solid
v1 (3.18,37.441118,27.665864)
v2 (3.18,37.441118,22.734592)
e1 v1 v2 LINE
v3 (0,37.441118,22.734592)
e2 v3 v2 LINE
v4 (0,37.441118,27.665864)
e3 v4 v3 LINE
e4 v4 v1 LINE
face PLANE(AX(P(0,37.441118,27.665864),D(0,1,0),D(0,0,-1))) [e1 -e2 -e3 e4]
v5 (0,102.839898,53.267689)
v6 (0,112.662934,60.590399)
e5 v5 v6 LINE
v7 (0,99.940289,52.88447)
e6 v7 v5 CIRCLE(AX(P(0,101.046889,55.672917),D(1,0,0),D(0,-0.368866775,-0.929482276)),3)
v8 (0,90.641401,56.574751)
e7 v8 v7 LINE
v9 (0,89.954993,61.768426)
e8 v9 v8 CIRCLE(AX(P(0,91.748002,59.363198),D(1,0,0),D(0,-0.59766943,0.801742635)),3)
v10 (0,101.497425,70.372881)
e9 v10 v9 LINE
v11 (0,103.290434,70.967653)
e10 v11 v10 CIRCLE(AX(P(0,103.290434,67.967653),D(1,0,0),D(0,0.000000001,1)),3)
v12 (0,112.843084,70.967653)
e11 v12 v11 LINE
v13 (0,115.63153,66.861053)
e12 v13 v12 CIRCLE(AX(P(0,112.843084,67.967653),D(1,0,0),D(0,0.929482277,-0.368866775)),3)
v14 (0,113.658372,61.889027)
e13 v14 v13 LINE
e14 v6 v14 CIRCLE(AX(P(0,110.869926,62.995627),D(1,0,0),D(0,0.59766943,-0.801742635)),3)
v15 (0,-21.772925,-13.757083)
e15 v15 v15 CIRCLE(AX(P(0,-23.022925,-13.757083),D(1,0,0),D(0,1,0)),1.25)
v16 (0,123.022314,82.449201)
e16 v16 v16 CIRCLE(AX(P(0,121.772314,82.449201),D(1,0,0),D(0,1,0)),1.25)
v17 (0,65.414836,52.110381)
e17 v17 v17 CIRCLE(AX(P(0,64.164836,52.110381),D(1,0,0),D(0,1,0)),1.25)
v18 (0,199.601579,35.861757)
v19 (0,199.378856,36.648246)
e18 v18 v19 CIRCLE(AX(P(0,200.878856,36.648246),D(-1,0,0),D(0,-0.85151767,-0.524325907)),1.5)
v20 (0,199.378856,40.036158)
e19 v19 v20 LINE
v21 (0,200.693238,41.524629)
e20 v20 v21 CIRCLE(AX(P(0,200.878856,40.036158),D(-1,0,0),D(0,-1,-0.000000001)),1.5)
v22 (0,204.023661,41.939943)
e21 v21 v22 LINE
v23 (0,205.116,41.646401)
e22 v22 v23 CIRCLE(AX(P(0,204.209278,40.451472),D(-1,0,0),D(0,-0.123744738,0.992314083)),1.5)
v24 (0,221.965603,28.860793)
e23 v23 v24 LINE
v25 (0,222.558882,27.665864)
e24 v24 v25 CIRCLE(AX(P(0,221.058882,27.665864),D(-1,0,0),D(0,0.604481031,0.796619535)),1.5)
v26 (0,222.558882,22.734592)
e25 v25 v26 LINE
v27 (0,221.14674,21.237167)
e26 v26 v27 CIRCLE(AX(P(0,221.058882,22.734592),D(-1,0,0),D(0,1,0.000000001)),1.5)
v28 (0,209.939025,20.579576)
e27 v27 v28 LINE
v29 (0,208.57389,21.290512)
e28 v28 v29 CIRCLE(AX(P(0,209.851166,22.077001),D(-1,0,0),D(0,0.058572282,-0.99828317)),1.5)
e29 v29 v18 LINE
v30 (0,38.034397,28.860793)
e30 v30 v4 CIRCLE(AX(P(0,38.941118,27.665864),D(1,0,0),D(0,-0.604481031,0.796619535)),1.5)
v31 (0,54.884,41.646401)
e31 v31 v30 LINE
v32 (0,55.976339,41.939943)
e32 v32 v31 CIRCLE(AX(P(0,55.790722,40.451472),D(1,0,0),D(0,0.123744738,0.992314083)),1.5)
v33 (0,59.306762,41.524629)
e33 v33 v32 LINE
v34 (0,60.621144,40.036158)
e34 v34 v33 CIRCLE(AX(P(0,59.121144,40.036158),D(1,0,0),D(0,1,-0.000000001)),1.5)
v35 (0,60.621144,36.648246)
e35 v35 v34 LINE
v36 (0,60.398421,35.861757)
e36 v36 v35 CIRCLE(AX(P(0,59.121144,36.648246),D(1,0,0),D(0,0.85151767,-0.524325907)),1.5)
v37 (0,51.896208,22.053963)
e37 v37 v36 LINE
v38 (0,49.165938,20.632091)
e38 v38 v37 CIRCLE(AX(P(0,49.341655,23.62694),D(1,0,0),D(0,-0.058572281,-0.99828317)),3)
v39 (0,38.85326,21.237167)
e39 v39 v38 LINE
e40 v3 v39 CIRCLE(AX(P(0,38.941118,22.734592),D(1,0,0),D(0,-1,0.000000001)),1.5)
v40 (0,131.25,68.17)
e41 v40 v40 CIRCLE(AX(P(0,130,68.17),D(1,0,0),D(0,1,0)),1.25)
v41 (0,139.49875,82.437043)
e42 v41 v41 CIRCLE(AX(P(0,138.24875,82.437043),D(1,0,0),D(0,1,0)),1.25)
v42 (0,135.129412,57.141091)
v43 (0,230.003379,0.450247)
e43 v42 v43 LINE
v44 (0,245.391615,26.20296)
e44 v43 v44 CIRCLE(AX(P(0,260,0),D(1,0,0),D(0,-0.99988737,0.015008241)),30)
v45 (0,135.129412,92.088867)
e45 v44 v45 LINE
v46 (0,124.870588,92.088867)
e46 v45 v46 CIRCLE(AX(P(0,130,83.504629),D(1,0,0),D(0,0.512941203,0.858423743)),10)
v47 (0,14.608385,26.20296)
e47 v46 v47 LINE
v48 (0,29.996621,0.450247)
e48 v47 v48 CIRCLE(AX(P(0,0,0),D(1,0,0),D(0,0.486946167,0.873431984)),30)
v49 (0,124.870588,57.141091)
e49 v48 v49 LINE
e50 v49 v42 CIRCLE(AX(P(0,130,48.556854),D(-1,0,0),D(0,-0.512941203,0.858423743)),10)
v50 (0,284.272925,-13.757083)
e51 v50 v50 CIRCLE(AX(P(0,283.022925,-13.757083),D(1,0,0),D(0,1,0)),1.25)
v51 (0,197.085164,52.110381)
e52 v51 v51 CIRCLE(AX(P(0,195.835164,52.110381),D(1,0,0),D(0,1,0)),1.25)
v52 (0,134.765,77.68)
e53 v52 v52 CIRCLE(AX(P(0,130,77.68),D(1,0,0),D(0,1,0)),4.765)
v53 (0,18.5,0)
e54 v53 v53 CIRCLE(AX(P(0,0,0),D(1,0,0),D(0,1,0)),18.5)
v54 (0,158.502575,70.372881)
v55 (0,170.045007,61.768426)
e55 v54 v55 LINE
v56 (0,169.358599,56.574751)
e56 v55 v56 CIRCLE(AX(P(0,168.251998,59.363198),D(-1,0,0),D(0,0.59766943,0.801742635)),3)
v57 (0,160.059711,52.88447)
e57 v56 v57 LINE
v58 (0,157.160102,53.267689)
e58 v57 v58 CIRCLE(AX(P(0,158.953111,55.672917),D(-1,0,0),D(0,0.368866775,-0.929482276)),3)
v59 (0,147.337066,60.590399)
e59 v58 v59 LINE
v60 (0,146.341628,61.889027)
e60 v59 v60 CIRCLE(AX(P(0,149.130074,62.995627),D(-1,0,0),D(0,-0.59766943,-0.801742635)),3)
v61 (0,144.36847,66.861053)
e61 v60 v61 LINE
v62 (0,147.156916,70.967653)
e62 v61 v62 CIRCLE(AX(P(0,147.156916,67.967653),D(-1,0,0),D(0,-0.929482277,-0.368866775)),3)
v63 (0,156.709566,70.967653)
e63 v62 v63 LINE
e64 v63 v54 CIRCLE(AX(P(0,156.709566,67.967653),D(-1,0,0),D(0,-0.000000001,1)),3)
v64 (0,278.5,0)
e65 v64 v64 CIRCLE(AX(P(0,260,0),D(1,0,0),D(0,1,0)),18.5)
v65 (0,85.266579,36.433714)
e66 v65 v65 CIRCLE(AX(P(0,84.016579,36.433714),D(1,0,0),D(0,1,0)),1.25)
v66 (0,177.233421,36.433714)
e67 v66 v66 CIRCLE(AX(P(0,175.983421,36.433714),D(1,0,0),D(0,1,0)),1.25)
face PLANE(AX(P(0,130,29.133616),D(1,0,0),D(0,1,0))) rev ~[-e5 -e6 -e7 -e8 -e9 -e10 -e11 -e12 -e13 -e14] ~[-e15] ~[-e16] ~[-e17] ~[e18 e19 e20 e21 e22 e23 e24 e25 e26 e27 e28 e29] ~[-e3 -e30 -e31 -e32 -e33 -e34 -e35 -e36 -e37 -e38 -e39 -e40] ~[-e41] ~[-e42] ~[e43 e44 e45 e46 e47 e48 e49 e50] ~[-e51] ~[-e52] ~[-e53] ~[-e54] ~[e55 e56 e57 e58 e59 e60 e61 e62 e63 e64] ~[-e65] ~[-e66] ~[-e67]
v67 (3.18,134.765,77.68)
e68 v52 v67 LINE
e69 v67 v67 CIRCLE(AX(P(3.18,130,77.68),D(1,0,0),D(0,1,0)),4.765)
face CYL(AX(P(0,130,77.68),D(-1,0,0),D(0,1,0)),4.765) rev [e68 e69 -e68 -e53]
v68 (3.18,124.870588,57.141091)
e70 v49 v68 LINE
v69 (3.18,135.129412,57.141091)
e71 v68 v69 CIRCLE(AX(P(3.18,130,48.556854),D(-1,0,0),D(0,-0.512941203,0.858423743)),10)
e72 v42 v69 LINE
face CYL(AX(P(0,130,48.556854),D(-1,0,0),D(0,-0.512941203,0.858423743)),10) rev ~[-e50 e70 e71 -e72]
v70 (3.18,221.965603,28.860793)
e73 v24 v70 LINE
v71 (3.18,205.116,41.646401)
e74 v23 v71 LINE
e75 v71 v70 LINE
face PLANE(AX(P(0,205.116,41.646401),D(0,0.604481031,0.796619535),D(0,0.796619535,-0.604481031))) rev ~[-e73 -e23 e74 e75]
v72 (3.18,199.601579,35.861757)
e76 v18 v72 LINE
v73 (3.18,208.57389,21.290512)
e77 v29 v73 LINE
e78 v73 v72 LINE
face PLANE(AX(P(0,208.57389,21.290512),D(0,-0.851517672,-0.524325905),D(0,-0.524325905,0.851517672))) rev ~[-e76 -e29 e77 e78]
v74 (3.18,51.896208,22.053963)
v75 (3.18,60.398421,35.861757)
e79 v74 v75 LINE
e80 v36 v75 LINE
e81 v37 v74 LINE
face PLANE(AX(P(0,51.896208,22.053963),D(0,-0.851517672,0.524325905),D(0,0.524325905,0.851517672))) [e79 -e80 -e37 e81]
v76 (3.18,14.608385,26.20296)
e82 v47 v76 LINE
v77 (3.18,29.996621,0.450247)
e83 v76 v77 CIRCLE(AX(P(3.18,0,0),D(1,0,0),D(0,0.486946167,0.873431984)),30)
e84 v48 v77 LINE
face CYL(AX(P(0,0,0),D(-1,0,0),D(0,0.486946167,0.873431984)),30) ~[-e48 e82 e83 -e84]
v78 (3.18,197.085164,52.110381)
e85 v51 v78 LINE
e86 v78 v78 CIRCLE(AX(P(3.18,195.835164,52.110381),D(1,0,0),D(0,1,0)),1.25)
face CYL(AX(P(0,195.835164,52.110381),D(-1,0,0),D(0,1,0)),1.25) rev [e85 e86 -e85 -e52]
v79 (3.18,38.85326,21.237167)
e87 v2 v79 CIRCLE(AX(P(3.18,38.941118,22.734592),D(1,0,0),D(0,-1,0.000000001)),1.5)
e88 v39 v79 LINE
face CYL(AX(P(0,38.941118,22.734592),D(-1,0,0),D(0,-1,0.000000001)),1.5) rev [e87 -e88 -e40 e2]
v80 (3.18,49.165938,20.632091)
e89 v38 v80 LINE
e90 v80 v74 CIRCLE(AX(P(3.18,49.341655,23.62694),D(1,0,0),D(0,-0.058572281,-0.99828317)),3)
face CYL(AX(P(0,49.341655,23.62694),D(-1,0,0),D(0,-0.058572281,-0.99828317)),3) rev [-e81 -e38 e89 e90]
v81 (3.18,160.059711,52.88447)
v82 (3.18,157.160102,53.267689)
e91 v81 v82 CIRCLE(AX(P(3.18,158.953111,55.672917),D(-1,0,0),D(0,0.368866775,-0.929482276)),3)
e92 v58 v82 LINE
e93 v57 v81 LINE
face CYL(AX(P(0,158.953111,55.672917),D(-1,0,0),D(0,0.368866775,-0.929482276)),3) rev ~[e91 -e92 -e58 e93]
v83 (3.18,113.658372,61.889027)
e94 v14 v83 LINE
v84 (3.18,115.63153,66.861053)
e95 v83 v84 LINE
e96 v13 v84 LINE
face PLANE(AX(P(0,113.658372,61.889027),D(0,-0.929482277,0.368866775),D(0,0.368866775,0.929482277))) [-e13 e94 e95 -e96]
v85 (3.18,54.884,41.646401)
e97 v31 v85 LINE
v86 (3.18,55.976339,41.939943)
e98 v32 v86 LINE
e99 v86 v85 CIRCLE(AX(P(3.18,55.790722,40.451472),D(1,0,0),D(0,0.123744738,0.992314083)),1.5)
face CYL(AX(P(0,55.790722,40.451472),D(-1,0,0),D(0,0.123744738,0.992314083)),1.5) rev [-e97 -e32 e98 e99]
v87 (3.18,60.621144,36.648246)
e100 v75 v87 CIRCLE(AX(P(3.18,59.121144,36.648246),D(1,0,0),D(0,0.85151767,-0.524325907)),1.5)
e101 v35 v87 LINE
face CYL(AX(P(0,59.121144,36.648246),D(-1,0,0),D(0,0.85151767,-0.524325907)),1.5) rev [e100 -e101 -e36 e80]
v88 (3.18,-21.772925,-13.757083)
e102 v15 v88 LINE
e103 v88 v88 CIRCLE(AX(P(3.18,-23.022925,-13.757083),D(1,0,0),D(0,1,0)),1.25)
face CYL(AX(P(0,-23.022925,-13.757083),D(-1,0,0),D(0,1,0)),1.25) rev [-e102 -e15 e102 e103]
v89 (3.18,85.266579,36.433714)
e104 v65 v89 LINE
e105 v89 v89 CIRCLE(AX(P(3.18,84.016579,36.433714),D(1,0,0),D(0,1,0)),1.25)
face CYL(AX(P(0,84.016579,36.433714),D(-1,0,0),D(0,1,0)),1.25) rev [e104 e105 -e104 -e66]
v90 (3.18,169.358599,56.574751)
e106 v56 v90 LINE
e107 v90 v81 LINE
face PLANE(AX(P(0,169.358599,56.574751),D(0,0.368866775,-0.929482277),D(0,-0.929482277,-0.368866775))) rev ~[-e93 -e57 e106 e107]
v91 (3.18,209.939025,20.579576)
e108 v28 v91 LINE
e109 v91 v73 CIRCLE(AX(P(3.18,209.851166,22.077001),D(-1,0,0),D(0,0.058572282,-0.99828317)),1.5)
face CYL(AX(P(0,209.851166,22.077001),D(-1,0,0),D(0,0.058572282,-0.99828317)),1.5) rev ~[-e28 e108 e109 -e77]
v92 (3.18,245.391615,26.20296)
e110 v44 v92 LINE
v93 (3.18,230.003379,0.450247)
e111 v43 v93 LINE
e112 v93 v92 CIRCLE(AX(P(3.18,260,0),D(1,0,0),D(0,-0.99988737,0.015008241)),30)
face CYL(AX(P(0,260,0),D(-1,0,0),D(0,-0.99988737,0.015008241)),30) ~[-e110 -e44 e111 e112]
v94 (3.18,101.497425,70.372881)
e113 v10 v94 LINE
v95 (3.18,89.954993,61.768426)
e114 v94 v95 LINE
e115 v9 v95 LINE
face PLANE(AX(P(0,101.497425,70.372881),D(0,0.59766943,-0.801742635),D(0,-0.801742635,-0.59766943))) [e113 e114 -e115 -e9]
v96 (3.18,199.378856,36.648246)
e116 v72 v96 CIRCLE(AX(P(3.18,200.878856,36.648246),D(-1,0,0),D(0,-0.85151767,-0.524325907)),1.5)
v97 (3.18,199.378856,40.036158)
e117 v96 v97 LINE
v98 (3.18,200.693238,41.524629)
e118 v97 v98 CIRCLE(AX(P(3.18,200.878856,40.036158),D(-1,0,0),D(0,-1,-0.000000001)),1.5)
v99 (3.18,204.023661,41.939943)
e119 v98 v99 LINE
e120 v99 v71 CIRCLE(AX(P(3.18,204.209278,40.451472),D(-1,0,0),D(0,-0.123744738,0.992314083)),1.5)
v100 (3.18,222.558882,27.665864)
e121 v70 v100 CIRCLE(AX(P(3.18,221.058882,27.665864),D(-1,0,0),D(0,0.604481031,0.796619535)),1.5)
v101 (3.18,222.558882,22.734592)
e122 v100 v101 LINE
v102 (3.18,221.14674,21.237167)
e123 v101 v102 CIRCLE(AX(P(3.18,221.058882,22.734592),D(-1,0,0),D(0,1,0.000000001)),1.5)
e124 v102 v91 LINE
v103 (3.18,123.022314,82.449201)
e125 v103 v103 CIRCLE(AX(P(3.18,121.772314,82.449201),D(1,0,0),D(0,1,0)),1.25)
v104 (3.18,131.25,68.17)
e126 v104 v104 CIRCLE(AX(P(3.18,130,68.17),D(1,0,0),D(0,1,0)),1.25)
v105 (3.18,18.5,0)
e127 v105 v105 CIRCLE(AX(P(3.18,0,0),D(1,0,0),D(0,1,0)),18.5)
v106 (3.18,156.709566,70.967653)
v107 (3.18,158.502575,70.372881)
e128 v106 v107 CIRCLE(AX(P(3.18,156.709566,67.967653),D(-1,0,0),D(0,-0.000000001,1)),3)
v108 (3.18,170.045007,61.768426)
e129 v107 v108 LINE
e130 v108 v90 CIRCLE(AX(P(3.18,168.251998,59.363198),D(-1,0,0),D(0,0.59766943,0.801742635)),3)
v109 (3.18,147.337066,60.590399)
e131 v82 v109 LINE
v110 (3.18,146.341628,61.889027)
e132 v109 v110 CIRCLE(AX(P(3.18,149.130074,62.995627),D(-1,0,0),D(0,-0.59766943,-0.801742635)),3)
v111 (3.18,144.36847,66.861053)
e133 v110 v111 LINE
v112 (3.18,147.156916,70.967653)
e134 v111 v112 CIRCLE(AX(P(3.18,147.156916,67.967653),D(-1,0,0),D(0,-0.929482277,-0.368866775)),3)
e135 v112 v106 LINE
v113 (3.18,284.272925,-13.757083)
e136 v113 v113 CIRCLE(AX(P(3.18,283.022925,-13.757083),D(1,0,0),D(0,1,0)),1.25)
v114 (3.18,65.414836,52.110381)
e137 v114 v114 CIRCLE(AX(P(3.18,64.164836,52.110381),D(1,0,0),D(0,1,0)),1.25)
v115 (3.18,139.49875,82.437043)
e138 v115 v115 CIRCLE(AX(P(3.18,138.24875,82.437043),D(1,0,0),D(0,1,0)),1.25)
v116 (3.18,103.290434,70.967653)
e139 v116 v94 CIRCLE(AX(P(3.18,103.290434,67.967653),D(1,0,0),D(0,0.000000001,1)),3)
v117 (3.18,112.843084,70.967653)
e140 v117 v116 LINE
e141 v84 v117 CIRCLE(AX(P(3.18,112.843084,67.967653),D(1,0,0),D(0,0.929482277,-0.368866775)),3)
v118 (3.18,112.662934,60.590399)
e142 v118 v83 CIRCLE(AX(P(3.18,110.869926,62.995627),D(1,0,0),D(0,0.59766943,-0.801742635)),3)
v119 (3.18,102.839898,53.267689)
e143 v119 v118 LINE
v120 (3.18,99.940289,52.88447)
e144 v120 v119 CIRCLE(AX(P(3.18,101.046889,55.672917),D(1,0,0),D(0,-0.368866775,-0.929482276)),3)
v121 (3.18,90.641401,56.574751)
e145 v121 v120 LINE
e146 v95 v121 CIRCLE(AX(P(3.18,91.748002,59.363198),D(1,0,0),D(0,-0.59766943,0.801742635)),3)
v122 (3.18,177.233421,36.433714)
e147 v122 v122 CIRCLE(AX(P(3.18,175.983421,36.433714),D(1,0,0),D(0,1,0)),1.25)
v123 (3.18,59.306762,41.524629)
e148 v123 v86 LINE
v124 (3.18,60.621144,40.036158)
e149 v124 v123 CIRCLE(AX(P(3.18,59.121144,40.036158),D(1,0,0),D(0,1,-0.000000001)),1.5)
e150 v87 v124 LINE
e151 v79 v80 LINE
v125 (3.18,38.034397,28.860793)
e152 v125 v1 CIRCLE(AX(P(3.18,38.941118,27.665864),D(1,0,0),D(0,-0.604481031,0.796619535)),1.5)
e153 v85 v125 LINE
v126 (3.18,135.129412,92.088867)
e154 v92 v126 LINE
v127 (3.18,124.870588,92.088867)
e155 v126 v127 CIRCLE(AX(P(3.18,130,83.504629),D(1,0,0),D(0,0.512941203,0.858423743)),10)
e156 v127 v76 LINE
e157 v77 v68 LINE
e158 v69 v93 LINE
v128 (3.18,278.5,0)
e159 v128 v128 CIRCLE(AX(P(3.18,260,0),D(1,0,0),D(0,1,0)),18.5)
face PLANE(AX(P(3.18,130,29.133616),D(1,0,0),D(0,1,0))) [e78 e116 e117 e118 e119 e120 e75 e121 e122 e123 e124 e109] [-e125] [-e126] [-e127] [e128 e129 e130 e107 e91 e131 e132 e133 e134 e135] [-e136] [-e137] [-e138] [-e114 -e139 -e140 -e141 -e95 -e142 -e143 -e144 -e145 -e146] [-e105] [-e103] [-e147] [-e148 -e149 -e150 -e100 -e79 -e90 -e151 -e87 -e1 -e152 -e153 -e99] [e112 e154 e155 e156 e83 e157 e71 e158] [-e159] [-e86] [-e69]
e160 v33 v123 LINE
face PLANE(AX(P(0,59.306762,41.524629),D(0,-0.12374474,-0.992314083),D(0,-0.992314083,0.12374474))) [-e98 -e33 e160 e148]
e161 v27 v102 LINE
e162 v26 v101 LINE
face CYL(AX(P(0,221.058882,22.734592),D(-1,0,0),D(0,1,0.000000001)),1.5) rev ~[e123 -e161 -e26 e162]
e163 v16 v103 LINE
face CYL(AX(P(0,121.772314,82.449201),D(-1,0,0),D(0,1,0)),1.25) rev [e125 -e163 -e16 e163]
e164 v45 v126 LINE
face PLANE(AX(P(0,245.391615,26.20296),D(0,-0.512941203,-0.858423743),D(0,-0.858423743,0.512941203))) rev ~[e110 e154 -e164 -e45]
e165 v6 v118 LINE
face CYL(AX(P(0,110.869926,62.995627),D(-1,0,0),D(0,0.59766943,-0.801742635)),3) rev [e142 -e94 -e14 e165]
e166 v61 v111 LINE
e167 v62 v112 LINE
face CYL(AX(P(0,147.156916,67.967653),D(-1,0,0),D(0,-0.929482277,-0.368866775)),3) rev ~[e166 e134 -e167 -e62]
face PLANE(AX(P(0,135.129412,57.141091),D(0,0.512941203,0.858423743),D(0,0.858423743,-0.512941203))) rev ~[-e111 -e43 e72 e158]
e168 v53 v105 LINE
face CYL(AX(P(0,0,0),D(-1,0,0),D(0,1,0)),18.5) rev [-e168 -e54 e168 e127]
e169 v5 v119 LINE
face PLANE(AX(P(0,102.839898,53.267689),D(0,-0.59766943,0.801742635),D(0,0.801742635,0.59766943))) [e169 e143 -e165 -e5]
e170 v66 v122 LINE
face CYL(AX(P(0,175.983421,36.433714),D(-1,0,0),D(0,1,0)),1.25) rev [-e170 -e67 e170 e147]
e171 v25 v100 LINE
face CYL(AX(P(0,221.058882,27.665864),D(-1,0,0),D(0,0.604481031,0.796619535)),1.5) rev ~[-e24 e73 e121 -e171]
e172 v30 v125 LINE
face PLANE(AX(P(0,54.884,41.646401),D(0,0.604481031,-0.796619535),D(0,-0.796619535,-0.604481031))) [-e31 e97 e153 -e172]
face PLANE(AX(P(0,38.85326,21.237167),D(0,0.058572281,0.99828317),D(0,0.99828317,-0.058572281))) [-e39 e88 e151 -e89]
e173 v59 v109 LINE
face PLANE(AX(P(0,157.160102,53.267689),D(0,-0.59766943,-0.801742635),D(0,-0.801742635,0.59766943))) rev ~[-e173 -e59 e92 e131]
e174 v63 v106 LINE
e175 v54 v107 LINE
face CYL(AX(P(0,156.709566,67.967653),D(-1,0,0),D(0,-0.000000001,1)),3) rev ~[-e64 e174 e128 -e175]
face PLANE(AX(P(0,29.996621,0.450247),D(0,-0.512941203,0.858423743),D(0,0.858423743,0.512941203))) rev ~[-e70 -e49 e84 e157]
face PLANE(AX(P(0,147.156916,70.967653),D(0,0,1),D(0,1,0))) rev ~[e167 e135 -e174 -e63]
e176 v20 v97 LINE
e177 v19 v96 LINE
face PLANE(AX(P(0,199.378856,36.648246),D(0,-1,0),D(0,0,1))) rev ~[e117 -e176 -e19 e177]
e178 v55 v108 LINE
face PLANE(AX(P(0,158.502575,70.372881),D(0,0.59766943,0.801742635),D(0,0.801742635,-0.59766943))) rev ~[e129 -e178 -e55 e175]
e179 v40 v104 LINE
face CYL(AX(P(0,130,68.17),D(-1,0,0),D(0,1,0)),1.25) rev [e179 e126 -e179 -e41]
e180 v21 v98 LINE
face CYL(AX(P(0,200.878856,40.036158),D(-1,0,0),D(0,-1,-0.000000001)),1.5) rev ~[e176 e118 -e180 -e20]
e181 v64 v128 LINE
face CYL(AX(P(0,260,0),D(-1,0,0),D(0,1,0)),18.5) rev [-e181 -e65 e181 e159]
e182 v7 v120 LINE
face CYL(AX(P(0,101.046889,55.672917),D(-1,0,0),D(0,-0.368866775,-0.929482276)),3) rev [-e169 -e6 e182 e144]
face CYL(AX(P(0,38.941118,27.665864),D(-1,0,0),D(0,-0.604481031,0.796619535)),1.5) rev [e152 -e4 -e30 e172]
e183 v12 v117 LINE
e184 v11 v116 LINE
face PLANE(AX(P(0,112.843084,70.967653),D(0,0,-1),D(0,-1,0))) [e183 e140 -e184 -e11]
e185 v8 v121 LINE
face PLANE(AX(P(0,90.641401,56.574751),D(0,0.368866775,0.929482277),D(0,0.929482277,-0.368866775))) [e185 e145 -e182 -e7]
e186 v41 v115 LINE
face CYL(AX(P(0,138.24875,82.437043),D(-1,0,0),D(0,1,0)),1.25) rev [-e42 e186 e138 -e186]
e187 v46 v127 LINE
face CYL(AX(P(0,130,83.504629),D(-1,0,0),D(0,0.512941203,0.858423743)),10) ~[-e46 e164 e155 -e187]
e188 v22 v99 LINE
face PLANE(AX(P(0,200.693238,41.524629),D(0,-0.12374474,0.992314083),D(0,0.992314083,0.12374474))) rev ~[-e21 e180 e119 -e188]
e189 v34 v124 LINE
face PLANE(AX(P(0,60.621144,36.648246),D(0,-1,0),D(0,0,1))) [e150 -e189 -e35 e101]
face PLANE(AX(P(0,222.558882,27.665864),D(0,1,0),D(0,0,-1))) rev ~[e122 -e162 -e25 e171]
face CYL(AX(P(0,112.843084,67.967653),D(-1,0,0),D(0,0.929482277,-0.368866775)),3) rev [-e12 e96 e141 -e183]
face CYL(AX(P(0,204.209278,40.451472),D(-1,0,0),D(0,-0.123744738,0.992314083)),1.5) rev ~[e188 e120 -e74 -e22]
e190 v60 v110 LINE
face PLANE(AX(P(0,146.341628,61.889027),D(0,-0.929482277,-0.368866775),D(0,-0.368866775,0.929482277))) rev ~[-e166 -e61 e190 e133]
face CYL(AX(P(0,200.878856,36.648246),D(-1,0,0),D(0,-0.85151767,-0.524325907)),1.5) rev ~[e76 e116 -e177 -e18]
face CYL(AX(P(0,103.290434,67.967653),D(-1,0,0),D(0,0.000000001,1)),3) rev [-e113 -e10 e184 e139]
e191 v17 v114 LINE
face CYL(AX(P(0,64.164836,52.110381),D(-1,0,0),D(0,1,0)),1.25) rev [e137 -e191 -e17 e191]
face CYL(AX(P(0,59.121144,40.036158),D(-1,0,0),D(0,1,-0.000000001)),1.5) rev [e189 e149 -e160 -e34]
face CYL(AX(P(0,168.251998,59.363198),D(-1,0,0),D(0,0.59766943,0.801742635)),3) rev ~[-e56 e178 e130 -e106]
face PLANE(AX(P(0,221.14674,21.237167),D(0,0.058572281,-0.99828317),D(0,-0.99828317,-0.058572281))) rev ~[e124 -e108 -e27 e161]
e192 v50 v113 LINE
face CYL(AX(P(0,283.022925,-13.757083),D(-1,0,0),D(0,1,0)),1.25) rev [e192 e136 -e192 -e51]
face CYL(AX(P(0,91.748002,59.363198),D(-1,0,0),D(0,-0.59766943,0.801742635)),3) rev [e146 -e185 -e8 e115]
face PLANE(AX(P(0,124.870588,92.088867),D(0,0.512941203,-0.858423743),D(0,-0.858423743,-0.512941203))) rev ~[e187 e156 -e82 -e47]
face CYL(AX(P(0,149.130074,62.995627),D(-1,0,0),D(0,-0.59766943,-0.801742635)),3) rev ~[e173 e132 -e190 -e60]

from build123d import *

# Parameters (mm, degrees)
EXTRUDE_BASE_DEPTH         = 3.18
SKETCH4_R                  = 18.5
CUT_MOTOR_HOLES_DEPTH      = 3.18
SKETCH6_R                  = 1.25
SKETCH6_R_2                = 4.765
SUPPORT_HOLES_DEPTH        = 3.18
CUT_LIGHTENING_HOLES_DEPTH = 3.18


with BuildPart() as part:
    # bogie base → extrude-base (new body)
    with BuildSketch(Plane.YZ):
        with BuildLine():
            Line((124.870587973, 92.088866631), (14.608385018, 26.202959511))
            ThreePointArc((14.608385018, 26.202959511), (-25.75271229, -15.388236082), (29.9966211, 0.450247222))
            Line((29.9966211, 0.450247222), (124.870587973, 57.141091426))
            ThreePointArc((124.870587973, 57.141091426), (130, 58.556853997), (135.129412027, 57.141091426))
            Line((135.129412027, 57.141091426), (230.0033789, 0.450247222))
            ThreePointArc((230.0033789, 0.450247222), (285.75271229, -15.388236082), (245.391614982, 26.202959511))
            Line((245.391614982, 26.202959511), (135.129412027, 92.088866631))
            ThreePointArc((135.129412027, 92.088866631), (130, 93.504629201), (124.870587973, 92.088866631))
        make_face()
    extrude(amount=EXTRUDE_BASE_DEPTH)

    # Sketch4 → Cut-motor holes (cut)
    with BuildSketch(Plane.YZ):
        with Locations((260, 0)):
            Circle(SKETCH4_R)
        Circle(SKETCH4_R)
    extrude(amount=CUT_MOTOR_HOLES_DEPTH, mode=Mode.SUBTRACT)

    # Sketch6 → support holes (cut)
    with BuildSketch(Plane.YZ):
        with Locations((64.164835578, 52.110380567)):
            Circle(SKETCH6_R)
        with Locations((84.016579298, 36.433714107)):
            Circle(SKETCH6_R)
        with Locations((130, 77.68)):
            Circle(SKETCH6_R_2)
        with Locations((130, 68.17)):
            Circle(SKETCH6_R)
        with Locations((121.77231361, 82.449200841)):
            Circle(SKETCH6_R)
        with Locations((138.248750332, 82.43704307)):
            Circle(SKETCH6_R)
        with Locations((175.983420702, 36.433714107)):
            Circle(SKETCH6_R)
        with Locations((195.835164422, 52.110380567)):
            Circle(SKETCH6_R)
        with Locations((-23.022924787, -13.757083057)):
            Circle(SKETCH6_R)
        with Locations((283.022924787, -13.757083057)):
            Circle(SKETCH6_R)
    extrude(amount=SUPPORT_HOLES_DEPTH, mode=Mode.SUBTRACT)

    # Sketch7 → Cut-lightening holes (cut)
    with BuildSketch(Plane.YZ):
        with BuildLine():
            Line((54.884000108, 41.646401467), (38.03439682, 28.860792879))
            ThreePointArc((38.03439682, 28.860792879), (37.597600164, 28.332915929), (37.441118366, 27.665863577))
            Line((37.441118366, 27.665863577), (37.441118366, 22.734591544))
            ThreePointArc((37.441118366, 22.734591544), (37.849837551, 21.705462697), (38.853259944, 21.237166789))
            Line((38.853259944, 21.237166789), (49.165938422, 20.63209087))
            ThreePointArc((49.165938422, 20.63209087), (50.727348318, 20.966140733), (51.896208282, 22.053962665))
            Line((51.896208282, 22.053962665), (60.398420976, 35.861757183))
            ThreePointArc((60.398420976, 35.861757183), (60.564389902, 36.239537563), (60.621144468, 36.64824604))
            Line((60.621144468, 36.64824604), (60.621144468, 40.036157787))
            ThreePointArc((60.621144468, 40.036157787), (60.245516663, 41.02902594), (59.306761578, 41.524628912))
            Line((59.306761578, 41.524628912), (55.976338764, 41.939943289))
            ThreePointArc((55.976338764, 41.939943289), (55.401440776, 41.900078528), (54.884000108, 41.646401467))
        make_face()
        with BuildLine():
            Line((200.693238422, 41.524628912), (204.023661236, 41.939943289))
            ThreePointArc((204.023661236, 41.939943289), (204.598559224, 41.900078528), (205.115999892, 41.646401467))
            Line((205.115999892, 41.646401467), (221.96560318, 28.860792879))
            ThreePointArc((221.96560318, 28.860792879), (222.402399836, 28.332915929), (222.558881634, 27.665863577))
            Line((222.558881634, 27.665863577), (222.558881634, 22.734591544))
            ThreePointArc((222.558881634, 22.734591544), (222.150162449, 21.705462697), (221.146740056, 21.237166789))
            Line((221.146740056, 21.237166789), (209.939024731, 20.579576362))
            ThreePointArc((209.939024731, 20.579576362), (209.158319783, 20.746601293), (208.573889801, 21.290512259))
            Line((208.573889801, 21.290512259), (199.601579024, 35.861757183))
            ThreePointArc((199.601579024, 35.861757183), (199.435610098, 36.239537563), (199.378855532, 36.64824604))
            Line((199.378855532, 36.64824604), (199.378855532, 40.036157787))
            ThreePointArc((199.378855532, 40.036157787), (199.754483337, 41.02902594), (200.693238422, 41.524628912))
        make_face()
        with BuildLine():
            Line((112.843083605, 70.967653341), (103.290433505, 70.967653341))
            ThreePointArc((103.290433505, 70.967653341), (102.345892271, 70.815080576), (101.497425215, 70.372881245))
            Line((101.497425215, 70.372881245), (89.954993447, 61.768426002))
            ThreePointArc((89.954993447, 61.768426002), (88.773863738, 58.970129198), (90.641401413, 56.574751268))
            Line((90.641401413, 56.574751268), (99.94028895, 52.884470408))
            ThreePointArc((99.94028895, 52.884470408), (101.439958174, 52.698779238), (102.839897564, 53.267689334))
            Line((102.839897564, 53.267689334), (112.662933935, 60.59039901))
            ThreePointArc((112.662933935, 60.59039901), (113.250900477, 61.170535451), (113.658372475, 61.88902659))
            Line((113.658372475, 61.88902659), (115.631530434, 66.861053016))
            ThreePointArc((115.631530434, 66.861053016), (115.324998286, 69.65291282), (112.843083605, 70.967653341))
        make_face()
        with BuildLine():
            Line((146.341627525, 61.88902659), (144.368469566, 66.861053016))
            ThreePointArc((144.368469566, 66.861053016), (144.675001714, 69.65291282), (147.156916395, 70.967653341))
            Line((147.156916395, 70.967653341), (156.709566495, 70.967653341))
            ThreePointArc((156.709566495, 70.967653341), (157.654107729, 70.815080576), (158.502574785, 70.372881245))
            Line((158.502574785, 70.372881245), (170.045006553, 61.768426002))
            ThreePointArc((170.045006553, 61.768426002), (171.226136262, 58.970129198), (169.358598587, 56.574751268))
            Line((169.358598587, 56.574751268), (160.05971105, 52.884470408))
            ThreePointArc((160.05971105, 52.884470408), (158.560041826, 52.698779238), (157.160102436, 53.267689334))
            Line((157.160102436, 53.267689334), (147.337066065, 60.59039901))
            ThreePointArc((147.337066065, 60.59039901), (146.749099523, 61.170535451), (146.341627525, 61.88902659))
        make_face()
    extrude(amount=CUT_LIGHTENING_HOLES_DEPTH, mode=Mode.SUBTRACT)


solid = part.part
